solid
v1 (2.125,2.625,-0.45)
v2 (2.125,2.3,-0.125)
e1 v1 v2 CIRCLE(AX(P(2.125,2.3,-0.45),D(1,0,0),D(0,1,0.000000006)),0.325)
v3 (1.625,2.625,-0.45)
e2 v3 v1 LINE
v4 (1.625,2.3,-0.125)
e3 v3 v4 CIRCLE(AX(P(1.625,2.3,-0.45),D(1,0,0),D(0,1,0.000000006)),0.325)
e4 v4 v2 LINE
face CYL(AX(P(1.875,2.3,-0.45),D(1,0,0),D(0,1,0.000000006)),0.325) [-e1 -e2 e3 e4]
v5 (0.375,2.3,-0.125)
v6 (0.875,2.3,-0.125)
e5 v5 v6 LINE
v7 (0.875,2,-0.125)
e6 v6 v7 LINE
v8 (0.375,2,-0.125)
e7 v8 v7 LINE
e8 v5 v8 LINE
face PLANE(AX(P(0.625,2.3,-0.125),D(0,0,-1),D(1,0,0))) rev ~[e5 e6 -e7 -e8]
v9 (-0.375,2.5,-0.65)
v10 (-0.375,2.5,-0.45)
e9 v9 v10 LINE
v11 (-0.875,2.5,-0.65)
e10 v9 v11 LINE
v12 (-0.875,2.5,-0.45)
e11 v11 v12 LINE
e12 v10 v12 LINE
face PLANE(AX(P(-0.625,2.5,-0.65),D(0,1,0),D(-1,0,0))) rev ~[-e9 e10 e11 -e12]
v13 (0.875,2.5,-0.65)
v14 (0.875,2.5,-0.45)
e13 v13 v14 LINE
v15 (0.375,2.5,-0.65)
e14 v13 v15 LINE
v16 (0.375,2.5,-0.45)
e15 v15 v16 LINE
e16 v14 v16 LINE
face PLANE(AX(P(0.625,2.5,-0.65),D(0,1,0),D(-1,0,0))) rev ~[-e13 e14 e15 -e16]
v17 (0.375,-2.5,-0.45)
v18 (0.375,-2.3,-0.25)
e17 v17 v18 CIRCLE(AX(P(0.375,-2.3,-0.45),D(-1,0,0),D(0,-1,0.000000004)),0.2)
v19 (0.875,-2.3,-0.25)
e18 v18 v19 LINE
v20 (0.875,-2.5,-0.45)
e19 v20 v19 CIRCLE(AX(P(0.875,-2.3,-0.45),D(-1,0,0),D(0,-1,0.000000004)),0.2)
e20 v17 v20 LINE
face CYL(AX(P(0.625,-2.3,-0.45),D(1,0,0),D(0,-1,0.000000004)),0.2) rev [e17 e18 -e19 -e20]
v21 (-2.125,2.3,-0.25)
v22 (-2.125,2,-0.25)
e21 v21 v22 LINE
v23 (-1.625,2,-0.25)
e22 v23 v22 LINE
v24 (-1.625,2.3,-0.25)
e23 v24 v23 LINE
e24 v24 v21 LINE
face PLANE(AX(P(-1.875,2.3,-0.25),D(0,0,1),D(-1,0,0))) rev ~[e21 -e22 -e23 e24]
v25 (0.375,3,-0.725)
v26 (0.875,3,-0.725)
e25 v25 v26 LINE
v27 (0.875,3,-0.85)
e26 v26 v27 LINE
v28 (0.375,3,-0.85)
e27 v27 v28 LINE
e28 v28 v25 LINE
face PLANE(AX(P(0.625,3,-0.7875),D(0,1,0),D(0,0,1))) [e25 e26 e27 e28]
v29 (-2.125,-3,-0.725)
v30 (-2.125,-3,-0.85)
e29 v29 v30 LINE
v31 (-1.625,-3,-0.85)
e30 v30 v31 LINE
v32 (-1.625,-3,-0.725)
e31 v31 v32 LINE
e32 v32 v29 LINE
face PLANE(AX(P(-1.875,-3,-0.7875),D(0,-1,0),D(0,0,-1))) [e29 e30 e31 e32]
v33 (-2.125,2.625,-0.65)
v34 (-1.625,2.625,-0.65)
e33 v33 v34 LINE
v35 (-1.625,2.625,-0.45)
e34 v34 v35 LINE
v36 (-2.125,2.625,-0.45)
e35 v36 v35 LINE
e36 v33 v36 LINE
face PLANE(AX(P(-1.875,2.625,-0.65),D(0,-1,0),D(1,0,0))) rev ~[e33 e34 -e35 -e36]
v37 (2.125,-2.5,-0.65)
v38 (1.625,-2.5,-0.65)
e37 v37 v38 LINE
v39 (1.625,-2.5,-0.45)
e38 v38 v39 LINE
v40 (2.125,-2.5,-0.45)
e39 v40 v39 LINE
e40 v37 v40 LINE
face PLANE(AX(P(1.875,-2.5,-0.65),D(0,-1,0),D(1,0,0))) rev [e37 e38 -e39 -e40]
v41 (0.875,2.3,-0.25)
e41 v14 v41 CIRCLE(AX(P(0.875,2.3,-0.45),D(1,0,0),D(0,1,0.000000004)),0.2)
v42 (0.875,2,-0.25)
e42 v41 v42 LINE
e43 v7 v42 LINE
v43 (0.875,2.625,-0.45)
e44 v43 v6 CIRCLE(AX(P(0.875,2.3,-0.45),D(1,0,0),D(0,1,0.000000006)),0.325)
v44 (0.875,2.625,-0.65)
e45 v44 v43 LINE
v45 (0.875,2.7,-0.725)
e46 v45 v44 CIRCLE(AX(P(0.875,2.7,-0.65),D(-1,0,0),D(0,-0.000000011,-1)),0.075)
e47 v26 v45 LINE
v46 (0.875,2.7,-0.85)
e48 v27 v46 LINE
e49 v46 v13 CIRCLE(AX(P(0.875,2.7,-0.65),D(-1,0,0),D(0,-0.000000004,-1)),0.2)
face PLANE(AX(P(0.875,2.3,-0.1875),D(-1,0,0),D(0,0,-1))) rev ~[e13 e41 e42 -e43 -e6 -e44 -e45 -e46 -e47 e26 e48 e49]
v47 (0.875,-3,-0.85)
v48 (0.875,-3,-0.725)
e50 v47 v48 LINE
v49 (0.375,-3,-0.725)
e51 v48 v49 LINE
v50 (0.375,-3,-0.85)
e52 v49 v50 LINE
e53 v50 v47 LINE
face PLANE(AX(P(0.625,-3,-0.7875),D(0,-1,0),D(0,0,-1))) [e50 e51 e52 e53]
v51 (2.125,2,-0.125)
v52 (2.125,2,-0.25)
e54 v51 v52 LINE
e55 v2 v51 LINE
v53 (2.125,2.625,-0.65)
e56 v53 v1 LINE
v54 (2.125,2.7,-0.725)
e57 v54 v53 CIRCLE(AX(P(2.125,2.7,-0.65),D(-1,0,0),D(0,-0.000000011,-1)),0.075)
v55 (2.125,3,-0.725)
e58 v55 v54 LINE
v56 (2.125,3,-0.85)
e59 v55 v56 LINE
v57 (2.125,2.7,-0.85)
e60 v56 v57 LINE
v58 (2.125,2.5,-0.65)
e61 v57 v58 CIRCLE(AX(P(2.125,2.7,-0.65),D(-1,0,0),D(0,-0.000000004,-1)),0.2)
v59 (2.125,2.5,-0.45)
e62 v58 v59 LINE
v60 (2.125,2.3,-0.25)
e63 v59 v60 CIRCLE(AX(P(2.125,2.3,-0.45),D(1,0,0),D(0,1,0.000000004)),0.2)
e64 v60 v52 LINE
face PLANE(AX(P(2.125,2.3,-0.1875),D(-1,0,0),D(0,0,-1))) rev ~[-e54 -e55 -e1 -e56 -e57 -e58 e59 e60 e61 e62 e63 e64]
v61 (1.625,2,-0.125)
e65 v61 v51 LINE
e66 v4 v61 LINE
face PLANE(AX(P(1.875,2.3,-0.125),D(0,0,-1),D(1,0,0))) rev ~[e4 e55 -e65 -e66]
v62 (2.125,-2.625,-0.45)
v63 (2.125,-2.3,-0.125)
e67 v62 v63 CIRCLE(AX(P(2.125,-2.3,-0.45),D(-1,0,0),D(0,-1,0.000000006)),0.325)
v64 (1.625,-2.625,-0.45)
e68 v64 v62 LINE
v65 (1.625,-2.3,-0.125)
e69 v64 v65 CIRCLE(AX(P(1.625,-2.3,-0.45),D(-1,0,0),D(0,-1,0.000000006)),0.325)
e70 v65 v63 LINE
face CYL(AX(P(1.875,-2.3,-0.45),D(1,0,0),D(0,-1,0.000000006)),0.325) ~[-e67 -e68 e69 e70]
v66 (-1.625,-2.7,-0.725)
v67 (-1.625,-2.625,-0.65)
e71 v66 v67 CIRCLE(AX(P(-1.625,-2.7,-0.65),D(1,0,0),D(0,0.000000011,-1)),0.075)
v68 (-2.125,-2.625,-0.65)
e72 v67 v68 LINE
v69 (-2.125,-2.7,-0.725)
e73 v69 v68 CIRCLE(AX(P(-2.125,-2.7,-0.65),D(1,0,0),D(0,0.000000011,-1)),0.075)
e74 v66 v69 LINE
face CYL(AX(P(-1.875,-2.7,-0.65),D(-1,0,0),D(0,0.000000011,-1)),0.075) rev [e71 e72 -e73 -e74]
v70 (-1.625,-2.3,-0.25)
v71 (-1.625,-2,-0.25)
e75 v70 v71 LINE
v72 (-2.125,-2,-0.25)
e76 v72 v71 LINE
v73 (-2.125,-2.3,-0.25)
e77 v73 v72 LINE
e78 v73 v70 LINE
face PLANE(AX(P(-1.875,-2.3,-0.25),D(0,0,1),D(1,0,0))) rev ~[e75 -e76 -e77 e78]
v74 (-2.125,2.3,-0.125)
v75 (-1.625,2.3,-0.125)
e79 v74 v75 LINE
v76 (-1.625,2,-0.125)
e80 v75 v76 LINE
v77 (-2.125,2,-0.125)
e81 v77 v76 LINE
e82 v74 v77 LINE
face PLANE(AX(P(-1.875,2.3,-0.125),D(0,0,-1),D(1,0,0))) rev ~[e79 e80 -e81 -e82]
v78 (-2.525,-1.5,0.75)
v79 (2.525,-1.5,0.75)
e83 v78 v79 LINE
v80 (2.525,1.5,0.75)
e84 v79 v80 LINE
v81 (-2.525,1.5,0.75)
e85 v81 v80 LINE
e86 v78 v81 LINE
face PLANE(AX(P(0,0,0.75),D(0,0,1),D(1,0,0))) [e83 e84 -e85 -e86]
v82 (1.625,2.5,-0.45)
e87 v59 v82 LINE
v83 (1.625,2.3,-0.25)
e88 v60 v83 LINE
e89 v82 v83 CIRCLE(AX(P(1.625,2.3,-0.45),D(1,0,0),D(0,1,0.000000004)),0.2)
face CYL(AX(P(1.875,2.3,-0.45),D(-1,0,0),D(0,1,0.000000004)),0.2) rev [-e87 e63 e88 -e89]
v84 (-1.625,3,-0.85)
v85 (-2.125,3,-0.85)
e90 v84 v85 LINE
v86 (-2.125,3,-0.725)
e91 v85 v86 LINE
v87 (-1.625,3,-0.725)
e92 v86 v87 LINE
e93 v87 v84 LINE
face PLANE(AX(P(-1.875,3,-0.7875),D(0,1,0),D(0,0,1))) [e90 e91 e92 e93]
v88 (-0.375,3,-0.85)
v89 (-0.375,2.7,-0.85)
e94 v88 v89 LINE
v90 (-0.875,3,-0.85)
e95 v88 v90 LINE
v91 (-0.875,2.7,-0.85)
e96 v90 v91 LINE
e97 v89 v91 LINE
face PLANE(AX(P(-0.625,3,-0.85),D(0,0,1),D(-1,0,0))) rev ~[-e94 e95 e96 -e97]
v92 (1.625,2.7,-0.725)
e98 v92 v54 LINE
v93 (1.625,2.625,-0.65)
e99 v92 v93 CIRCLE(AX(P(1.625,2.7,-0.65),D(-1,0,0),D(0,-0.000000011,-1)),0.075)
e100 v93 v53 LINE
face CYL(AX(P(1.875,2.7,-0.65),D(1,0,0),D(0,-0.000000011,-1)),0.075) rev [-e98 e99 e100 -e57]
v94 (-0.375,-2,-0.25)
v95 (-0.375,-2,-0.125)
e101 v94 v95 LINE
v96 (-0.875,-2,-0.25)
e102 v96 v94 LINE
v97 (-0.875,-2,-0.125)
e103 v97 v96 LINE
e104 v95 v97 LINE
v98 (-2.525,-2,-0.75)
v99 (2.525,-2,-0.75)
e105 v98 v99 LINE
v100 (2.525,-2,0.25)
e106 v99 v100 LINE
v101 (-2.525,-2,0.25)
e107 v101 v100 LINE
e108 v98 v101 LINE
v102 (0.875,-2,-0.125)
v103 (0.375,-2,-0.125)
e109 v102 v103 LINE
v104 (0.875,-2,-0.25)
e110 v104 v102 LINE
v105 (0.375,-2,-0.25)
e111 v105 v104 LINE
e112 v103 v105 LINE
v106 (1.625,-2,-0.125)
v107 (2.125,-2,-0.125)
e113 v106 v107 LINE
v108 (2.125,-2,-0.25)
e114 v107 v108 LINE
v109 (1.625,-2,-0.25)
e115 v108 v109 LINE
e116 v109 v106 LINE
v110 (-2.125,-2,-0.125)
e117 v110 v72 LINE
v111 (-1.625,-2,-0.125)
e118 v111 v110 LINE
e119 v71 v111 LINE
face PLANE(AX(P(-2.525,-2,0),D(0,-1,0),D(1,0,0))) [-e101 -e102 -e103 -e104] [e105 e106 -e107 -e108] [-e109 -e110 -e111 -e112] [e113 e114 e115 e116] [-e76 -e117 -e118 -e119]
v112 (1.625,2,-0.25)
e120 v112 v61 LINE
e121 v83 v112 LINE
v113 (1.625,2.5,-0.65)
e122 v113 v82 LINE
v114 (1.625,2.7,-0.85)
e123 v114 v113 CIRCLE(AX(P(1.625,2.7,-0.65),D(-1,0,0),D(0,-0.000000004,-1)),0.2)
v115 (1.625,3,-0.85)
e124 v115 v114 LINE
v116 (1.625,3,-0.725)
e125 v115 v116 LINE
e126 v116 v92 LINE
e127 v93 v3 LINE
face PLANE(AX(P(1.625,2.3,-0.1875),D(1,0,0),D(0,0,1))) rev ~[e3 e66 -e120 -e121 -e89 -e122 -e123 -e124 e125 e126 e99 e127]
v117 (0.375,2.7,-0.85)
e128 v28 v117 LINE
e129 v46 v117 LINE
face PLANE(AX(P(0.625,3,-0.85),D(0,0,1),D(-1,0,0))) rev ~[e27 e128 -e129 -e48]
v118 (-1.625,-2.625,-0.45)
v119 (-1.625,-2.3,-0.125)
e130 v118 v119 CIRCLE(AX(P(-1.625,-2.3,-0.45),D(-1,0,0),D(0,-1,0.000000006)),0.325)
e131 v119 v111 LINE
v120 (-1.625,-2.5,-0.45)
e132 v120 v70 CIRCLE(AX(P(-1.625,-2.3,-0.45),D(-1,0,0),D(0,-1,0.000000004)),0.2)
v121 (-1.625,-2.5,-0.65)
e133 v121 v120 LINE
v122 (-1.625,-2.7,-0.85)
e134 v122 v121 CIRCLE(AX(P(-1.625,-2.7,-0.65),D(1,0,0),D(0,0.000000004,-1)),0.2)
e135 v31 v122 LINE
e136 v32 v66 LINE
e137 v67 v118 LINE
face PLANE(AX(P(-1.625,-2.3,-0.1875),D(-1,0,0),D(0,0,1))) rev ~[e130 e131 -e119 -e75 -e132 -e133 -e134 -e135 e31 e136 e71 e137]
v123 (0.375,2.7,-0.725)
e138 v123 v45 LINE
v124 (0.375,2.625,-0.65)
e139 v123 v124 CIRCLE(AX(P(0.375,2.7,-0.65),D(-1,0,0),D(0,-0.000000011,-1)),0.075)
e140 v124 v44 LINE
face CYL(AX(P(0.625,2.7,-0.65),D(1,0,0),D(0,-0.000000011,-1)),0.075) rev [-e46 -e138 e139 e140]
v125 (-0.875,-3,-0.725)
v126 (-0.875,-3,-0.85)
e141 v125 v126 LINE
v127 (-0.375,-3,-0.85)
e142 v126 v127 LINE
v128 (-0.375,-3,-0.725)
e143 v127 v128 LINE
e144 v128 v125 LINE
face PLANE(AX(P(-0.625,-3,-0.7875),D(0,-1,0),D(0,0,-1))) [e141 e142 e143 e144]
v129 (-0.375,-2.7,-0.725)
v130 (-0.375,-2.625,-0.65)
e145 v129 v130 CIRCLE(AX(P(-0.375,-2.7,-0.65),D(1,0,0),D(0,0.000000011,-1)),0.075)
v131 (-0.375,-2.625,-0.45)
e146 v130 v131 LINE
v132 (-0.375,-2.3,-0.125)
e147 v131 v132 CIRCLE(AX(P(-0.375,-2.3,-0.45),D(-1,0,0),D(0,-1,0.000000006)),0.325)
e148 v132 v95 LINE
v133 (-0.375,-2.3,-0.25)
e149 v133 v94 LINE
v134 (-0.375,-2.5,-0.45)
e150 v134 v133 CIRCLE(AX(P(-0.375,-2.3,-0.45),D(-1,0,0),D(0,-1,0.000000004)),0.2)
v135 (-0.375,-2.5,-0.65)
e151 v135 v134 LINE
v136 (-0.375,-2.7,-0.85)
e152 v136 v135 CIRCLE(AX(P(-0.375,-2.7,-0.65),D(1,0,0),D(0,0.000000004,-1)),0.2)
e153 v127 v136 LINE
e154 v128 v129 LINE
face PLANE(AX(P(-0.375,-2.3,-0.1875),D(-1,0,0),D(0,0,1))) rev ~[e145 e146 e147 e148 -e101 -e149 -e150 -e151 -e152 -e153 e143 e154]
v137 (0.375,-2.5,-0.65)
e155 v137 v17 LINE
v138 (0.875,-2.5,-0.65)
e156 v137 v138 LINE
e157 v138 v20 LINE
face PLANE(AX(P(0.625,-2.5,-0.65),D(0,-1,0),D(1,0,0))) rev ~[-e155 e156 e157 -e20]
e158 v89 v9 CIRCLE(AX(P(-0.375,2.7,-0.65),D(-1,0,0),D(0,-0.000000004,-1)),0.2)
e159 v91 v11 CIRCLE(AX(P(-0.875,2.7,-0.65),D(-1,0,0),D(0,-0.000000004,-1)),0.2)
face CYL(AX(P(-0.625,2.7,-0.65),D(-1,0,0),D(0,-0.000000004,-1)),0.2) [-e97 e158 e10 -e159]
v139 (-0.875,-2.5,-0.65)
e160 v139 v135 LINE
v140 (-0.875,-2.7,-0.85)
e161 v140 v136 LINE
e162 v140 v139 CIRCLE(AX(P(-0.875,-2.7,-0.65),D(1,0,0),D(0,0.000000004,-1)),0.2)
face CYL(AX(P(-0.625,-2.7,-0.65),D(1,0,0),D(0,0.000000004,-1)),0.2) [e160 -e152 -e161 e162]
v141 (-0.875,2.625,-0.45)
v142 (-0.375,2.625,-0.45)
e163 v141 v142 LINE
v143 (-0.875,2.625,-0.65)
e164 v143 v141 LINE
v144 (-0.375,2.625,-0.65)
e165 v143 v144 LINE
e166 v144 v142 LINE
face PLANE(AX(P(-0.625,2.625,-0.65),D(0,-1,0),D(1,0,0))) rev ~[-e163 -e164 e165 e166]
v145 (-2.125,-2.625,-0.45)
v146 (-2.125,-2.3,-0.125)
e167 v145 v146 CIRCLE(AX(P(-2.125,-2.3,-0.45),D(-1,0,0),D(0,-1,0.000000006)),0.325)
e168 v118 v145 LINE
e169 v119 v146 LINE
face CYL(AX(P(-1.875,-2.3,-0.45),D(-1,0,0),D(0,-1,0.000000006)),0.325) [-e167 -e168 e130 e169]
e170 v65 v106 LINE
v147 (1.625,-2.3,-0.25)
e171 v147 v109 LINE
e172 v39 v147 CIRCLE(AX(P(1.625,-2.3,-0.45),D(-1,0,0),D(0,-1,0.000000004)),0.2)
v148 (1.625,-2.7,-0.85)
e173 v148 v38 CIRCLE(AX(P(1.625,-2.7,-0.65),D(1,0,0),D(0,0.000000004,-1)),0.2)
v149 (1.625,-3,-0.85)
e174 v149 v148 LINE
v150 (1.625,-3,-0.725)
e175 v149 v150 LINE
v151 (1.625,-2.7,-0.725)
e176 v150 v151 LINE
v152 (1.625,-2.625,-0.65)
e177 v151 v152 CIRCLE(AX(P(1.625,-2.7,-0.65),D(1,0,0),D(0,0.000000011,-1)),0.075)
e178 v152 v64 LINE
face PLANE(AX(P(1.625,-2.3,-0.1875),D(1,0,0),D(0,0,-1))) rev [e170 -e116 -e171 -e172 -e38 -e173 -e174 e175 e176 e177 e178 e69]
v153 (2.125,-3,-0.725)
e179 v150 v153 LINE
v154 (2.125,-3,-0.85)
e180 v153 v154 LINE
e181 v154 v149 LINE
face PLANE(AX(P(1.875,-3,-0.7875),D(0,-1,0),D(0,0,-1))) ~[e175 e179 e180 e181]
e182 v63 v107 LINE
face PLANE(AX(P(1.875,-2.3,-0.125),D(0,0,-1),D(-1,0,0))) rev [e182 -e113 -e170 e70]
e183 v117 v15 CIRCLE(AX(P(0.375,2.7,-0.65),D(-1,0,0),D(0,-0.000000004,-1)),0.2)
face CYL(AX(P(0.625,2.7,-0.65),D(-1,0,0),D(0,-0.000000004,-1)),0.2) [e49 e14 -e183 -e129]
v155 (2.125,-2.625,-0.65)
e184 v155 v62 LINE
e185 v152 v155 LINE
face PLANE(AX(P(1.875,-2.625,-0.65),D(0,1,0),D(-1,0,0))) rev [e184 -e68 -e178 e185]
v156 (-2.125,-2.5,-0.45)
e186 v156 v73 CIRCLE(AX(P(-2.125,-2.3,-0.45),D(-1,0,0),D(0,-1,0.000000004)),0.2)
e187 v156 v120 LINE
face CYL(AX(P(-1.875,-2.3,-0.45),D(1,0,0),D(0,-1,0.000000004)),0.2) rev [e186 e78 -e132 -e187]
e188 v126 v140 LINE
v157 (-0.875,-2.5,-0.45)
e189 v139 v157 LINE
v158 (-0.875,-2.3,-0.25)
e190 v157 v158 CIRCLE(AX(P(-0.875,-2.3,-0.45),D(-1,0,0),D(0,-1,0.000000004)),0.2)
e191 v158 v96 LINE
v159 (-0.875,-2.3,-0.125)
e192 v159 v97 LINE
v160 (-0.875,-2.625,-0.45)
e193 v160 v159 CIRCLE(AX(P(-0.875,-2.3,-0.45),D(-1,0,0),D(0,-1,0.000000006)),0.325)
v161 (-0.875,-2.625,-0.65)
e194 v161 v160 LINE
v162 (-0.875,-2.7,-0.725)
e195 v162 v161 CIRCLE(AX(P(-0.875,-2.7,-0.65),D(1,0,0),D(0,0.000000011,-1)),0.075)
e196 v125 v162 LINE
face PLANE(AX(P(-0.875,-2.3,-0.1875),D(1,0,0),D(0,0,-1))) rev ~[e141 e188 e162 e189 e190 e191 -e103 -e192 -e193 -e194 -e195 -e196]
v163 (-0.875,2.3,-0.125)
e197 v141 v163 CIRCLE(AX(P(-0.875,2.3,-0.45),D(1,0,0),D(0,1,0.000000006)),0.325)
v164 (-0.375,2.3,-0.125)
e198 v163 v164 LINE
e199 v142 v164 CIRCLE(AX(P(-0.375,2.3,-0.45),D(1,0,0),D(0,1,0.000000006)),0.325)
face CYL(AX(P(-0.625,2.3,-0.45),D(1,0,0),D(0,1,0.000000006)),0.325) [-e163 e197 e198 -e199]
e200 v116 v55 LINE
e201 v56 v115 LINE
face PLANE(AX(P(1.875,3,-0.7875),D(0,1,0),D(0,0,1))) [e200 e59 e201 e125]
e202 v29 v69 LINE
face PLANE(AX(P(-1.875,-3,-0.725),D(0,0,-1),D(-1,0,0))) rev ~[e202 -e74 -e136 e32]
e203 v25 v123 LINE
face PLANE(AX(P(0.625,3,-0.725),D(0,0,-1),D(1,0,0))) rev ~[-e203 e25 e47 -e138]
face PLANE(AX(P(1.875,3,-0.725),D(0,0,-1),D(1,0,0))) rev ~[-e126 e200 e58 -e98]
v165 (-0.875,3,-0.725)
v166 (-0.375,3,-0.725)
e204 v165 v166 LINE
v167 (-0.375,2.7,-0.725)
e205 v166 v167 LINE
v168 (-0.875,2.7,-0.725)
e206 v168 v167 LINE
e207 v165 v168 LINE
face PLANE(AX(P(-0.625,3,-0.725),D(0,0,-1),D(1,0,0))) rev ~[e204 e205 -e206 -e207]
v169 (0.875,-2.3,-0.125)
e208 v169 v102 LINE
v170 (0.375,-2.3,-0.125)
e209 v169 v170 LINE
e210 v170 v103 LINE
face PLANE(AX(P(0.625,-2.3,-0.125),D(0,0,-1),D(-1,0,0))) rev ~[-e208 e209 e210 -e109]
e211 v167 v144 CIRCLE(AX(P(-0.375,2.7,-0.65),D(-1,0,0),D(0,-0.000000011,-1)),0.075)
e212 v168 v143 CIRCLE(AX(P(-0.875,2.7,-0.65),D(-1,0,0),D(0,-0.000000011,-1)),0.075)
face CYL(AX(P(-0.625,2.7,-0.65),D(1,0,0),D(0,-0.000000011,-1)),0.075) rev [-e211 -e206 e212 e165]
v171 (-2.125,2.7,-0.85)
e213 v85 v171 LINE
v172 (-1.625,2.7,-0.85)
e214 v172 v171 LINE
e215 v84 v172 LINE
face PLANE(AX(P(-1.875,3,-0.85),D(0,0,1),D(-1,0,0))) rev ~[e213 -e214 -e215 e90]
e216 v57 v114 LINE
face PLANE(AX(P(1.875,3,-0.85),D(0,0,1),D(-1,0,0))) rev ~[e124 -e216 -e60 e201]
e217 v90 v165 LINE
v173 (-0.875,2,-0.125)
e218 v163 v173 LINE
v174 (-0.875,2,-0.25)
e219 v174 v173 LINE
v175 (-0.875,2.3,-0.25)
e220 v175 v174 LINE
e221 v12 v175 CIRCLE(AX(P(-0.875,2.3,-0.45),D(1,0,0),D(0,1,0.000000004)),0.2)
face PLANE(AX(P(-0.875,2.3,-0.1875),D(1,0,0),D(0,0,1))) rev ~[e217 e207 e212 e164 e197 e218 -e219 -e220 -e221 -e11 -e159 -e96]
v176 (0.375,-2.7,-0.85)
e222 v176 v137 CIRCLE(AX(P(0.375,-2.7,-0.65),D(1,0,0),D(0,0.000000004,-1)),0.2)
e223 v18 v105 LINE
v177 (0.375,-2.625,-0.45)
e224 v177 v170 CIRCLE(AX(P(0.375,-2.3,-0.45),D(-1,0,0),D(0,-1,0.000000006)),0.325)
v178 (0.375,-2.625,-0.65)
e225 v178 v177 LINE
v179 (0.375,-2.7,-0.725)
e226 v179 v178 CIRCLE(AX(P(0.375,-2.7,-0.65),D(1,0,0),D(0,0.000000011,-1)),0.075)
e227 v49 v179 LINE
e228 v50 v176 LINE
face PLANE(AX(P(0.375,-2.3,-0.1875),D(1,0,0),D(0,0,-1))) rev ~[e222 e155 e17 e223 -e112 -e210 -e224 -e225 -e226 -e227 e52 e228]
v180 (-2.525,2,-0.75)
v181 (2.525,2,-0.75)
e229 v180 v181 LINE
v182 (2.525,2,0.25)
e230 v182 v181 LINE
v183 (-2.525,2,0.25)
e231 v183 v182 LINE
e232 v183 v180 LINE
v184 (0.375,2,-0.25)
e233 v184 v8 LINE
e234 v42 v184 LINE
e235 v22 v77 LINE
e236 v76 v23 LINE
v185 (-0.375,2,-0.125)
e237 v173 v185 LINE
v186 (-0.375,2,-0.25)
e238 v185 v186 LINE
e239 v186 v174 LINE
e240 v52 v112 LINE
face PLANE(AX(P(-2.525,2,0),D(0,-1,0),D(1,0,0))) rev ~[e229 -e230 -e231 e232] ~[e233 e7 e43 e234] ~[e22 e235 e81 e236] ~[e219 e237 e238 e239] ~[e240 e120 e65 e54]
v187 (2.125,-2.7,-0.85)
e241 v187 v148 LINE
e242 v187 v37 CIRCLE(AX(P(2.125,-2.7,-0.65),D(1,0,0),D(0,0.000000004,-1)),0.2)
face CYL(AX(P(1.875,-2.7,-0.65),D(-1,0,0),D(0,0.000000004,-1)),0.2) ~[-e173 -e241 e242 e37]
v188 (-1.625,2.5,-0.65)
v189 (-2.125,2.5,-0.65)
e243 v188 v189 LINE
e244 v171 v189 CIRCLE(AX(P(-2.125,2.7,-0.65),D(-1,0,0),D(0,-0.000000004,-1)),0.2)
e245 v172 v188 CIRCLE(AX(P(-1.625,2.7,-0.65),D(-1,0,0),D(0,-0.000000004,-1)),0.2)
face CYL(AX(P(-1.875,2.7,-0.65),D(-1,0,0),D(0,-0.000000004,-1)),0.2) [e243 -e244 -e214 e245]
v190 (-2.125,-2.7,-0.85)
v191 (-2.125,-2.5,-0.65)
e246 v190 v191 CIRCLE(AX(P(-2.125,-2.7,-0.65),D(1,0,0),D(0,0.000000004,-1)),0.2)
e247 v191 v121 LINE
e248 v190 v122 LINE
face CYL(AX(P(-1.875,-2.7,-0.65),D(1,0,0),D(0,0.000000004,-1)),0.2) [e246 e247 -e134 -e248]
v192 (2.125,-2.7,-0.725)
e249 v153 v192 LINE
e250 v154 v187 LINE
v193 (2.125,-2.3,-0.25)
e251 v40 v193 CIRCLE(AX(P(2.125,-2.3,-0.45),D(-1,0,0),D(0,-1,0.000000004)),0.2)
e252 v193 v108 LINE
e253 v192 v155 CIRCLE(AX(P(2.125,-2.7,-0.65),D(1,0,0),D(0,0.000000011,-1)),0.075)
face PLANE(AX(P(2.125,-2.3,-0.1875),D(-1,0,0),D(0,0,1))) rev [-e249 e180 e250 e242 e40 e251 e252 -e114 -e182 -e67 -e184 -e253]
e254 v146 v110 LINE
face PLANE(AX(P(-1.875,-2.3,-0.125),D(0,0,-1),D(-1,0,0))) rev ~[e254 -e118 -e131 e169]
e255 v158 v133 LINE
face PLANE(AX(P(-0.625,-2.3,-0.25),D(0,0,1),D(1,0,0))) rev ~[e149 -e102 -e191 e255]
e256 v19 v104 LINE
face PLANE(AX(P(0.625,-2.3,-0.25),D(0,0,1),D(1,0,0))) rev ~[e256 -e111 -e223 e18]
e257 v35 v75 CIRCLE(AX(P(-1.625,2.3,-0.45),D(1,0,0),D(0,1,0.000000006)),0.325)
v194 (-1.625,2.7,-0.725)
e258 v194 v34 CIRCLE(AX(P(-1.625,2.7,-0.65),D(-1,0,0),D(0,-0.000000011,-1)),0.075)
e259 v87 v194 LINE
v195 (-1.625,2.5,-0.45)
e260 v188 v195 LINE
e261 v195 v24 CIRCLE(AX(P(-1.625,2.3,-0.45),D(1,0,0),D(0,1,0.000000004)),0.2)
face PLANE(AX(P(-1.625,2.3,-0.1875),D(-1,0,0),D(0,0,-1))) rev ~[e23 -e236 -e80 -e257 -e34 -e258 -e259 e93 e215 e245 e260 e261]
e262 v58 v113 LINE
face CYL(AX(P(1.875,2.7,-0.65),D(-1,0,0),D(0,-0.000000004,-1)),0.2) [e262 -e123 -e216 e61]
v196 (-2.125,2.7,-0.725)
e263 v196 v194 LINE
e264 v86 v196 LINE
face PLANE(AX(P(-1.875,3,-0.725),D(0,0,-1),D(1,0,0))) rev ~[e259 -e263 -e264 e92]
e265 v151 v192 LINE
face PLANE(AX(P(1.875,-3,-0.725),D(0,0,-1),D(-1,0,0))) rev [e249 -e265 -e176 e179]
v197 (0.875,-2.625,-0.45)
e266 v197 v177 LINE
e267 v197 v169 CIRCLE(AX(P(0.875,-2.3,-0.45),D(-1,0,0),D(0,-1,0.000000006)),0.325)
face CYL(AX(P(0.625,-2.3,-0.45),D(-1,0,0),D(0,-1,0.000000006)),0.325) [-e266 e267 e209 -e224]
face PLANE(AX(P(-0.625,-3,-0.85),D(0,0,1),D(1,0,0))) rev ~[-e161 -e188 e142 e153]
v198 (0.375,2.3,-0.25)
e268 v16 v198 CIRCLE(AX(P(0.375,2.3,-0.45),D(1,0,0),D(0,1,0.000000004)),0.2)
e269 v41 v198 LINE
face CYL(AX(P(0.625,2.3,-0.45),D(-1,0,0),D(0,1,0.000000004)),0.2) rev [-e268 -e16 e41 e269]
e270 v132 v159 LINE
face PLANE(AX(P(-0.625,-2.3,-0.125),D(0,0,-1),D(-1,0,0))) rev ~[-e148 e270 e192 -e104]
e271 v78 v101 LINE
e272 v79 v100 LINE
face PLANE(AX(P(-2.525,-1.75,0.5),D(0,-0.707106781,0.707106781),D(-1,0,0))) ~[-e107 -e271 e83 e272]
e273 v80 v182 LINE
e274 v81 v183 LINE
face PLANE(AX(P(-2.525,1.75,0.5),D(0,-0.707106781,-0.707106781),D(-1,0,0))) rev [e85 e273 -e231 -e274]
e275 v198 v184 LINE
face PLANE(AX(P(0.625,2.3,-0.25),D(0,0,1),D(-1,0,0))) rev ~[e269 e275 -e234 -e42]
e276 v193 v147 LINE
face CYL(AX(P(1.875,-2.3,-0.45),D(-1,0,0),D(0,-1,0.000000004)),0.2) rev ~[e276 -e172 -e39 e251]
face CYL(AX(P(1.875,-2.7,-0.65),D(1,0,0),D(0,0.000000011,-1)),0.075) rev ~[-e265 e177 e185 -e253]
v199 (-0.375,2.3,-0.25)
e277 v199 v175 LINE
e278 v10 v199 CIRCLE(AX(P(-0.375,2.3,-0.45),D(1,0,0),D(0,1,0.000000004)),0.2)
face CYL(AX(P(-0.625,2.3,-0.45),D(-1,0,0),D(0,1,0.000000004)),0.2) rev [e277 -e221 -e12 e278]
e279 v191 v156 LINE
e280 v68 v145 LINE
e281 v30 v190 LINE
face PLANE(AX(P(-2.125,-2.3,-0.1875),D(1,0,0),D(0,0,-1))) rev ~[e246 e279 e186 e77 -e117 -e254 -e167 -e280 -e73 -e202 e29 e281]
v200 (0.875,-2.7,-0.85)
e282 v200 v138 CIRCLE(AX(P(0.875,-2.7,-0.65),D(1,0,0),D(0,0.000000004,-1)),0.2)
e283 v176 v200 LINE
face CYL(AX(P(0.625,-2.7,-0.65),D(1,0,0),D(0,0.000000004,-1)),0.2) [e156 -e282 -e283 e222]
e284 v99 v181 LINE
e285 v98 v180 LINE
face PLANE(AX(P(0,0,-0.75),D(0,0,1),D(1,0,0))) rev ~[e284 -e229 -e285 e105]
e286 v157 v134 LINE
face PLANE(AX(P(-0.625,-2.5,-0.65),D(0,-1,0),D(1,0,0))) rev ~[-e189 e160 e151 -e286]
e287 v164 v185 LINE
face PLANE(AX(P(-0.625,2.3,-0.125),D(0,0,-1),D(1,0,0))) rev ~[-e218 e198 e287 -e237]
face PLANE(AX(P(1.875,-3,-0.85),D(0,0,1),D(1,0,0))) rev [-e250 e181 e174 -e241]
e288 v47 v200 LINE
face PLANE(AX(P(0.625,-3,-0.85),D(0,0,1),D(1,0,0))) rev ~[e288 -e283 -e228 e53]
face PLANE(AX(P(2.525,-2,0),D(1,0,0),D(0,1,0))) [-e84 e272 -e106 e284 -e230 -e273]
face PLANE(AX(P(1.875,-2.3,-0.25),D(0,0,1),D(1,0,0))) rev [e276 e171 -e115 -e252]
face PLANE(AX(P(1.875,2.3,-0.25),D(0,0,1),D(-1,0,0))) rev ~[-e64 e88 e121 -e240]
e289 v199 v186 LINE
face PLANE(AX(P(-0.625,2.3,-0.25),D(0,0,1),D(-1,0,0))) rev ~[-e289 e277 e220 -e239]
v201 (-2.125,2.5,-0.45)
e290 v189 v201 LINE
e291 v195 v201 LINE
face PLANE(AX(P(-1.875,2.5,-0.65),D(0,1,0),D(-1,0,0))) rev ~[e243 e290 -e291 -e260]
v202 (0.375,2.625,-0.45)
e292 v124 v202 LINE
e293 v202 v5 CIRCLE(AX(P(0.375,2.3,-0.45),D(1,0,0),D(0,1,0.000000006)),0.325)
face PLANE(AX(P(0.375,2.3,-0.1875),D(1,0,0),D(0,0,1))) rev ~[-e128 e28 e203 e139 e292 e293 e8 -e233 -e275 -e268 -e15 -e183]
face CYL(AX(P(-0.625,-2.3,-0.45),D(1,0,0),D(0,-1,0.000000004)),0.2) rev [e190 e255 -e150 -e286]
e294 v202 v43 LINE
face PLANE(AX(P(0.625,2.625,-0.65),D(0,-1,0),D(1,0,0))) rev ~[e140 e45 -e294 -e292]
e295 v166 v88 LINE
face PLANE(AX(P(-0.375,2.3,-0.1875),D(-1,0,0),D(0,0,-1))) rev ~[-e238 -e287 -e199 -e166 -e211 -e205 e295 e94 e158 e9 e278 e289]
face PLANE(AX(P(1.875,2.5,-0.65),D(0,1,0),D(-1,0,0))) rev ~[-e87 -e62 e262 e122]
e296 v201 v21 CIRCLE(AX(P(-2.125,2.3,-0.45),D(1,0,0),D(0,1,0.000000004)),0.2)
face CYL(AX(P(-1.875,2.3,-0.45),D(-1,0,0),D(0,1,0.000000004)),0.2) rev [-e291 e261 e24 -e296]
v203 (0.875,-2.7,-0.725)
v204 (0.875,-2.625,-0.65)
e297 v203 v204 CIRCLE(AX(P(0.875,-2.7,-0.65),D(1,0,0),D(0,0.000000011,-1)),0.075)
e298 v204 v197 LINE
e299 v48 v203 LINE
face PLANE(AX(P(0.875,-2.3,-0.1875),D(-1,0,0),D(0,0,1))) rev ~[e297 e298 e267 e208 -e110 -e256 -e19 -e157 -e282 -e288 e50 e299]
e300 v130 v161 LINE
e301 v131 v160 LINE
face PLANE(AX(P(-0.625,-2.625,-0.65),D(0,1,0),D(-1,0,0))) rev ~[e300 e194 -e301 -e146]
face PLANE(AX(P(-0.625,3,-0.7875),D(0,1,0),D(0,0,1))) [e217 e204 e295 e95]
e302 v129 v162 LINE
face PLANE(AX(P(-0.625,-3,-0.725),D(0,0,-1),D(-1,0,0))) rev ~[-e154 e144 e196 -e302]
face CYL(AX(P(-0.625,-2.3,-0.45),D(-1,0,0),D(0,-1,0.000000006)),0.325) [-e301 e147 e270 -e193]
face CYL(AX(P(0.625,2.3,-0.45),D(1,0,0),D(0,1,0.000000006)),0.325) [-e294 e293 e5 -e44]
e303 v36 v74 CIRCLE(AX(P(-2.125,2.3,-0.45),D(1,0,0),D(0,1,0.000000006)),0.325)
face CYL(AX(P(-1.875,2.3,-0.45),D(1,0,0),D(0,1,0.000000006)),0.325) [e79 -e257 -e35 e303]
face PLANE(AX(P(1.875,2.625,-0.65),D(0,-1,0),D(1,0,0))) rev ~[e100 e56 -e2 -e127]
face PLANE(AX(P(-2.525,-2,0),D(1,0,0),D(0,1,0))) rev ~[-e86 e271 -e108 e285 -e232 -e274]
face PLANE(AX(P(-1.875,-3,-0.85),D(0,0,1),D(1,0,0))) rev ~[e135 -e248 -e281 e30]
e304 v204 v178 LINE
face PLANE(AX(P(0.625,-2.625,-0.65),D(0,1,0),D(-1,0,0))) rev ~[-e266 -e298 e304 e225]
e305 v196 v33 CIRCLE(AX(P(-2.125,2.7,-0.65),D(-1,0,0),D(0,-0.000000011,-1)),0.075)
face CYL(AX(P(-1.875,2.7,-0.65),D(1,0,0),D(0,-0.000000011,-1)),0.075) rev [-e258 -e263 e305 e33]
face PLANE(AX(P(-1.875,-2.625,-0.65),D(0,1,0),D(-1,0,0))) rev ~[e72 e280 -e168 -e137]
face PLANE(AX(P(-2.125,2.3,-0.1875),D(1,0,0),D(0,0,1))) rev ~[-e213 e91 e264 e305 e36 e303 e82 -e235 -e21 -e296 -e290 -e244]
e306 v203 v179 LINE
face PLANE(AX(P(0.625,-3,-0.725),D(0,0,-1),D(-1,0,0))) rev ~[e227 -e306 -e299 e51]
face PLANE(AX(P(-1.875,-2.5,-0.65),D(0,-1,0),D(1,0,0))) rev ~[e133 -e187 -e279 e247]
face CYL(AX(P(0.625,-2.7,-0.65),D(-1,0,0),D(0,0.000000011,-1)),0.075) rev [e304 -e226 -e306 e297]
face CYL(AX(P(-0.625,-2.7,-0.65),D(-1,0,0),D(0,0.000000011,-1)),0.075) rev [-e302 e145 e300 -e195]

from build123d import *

# Parameters (mm, degrees)
SKETCH1_W               = 5.05
SKETCH1_H               = 4
EXTRUDE1_DEPTH          = 0.75
CHAMFER1_SIZE           = 0.5
SKETCH2_W               = 0.5
SKETCH2_H               = 0.125
LPATTERN1_COUNT         = 4
LPATTERN1_PITCH         = 1.25
MIRROR1_COPY_1_SKETCH_W = 0.5
MIRROR1_COPY_1_SKETCH_H = 0.125
MIRROR1_COPY_2_SKETCH_W = 0.5
MIRROR1_COPY_2_SKETCH_H = 0.125
MIRROR1_COPY_3_SKETCH_W = 0.5
MIRROR1_COPY_3_SKETCH_H = 0.125


with BuildPart() as part:
    # Sketch1 → Extrude1 (new, symmetric)
    with BuildSketch(Plane.XY):
        Rectangle(SKETCH1_W, SKETCH1_H)
    extrude(amount=EXTRUDE1_DEPTH, both=True)

    # Chamfer1
    chamfer1_edges = [part.edges().sort_by_distance(p)[0] for p in [
        (0, -2, 0.75),
        (0, 2, 0.75),
    ]]
    chamfer(chamfer1_edges, length=CHAMFER1_SIZE)

    # Sweep1: sweep along a path in Sketch3
    with BuildLine(Plane(origin=(2.125, 0, 0), x_dir=(0, 0, -1), z_dir=(1, 0, 0))) as sweep1_path:
        Line((0.85, 3), (0.85, 2.7))
        ThreePointArc((0.85, 2.7), (0.791421356, 2.558578644), (0.65, 2.5))
        Line((0.65, 2.5), (0.45, 2.5))
        ThreePointArc((0.45, 2.5), (0.308578644, 2.441421356), (0.25, 2.3))
        Line((0.25, 2.3), (0.25, 2))
    # Sketch2 → Sweep1 (sweep)
    with BuildSketch(Plane(origin=(0, 2, 0), x_dir=(1, 0, 0), z_dir=(0, 1, 0))):
        with Locations((1.875, 0.1875)):
            Rectangle(SKETCH2_W, SKETCH2_H)
    sweep1 = sweep(path=sweep1_path.line)

    # LPattern1: Sweep1 ×4
    with Locations(*[(-i * LPATTERN1_PITCH, 0, 0) for i in range(1, LPATTERN1_COUNT)]):
        add(sweep1)

    # Mirror1: Sweep1 across plane
    add(sweep1.mirror(Plane.ZX))

    # Mirror1 copy 1: sweep along a path in Mirror1 copy 1 path
    with BuildLine(Plane(origin=(0.875, 0, 0), x_dir=(0, 0, -1), z_dir=(1, 0, 0))) as mirror1_copy_1_path:
        Line((0.85, -3), (0.85, -2.7))
        ThreePointArc((0.85, -2.7), (0.791421356, -2.558578644), (0.65, -2.5))
        Line((0.65, -2.5), (0.45, -2.5))
        ThreePointArc((0.45, -2.5), (0.308578644, -2.441421356), (0.25, -2.3))
        Line((0.25, -2.3), (0.25, -2))
    # Mirror1 copy 1 sketch → Mirror1 copy 1 (sweep)
    with BuildSketch(Plane(origin=(-1.25, -2, 0), x_dir=(1, 0, 0), z_dir=(0, -1, 0))):
        with Locations((1.875, -0.1875)):
            Rectangle(MIRROR1_COPY_1_SKETCH_W, MIRROR1_COPY_1_SKETCH_H)
    sweep(path=mirror1_copy_1_path.line)

    # Mirror1 copy 2: sweep along a path in Mirror1 copy 2 path
    with BuildLine(Plane(origin=(-0.375, 0, 0), x_dir=(0, 0, -1), z_dir=(1, 0, 0))) as mirror1_copy_2_path:
        Line((0.85, -3), (0.85, -2.7))
        ThreePointArc((0.85, -2.7), (0.791421356, -2.558578644), (0.65, -2.5))
        Line((0.65, -2.5), (0.45, -2.5))
        ThreePointArc((0.45, -2.5), (0.308578644, -2.441421356), (0.25, -2.3))
        Line((0.25, -2.3), (0.25, -2))
    # Mirror1 copy 2 sketch → Mirror1 copy 2 (sweep)
    with BuildSketch(Plane(origin=(-2.5, -2, 0), x_dir=(1, 0, 0), z_dir=(0, -1, 0))):
        with Locations((1.875, -0.1875)):
            Rectangle(MIRROR1_COPY_2_SKETCH_W, MIRROR1_COPY_2_SKETCH_H)
    sweep(path=mirror1_copy_2_path.line)

    # Mirror1 copy 3: sweep along a path in Mirror1 copy 3 path
    with BuildLine(Plane(origin=(-1.625, 0, 0), x_dir=(0, 0, -1), z_dir=(1, 0, 0))) as mirror1_copy_3_path:
        Line((0.85, -3), (0.85, -2.7))
        ThreePointArc((0.85, -2.7), (0.791421356, -2.558578644), (0.65, -2.5))
        Line((0.65, -2.5), (0.45, -2.5))
        ThreePointArc((0.45, -2.5), (0.308578644, -2.441421356), (0.25, -2.3))
        Line((0.25, -2.3), (0.25, -2))
    # Mirror1 copy 3 sketch → Mirror1 copy 3 (sweep)
    with BuildSketch(Plane(origin=(-3.75, -2, 0), x_dir=(1, 0, 0), z_dir=(0, -1, 0))):
        with Locations((1.875, -0.1875)):
            Rectangle(MIRROR1_COPY_3_SKETCH_W, MIRROR1_COPY_3_SKETCH_H)
    sweep(path=mirror1_copy_3_path.line)


solid = part.part
